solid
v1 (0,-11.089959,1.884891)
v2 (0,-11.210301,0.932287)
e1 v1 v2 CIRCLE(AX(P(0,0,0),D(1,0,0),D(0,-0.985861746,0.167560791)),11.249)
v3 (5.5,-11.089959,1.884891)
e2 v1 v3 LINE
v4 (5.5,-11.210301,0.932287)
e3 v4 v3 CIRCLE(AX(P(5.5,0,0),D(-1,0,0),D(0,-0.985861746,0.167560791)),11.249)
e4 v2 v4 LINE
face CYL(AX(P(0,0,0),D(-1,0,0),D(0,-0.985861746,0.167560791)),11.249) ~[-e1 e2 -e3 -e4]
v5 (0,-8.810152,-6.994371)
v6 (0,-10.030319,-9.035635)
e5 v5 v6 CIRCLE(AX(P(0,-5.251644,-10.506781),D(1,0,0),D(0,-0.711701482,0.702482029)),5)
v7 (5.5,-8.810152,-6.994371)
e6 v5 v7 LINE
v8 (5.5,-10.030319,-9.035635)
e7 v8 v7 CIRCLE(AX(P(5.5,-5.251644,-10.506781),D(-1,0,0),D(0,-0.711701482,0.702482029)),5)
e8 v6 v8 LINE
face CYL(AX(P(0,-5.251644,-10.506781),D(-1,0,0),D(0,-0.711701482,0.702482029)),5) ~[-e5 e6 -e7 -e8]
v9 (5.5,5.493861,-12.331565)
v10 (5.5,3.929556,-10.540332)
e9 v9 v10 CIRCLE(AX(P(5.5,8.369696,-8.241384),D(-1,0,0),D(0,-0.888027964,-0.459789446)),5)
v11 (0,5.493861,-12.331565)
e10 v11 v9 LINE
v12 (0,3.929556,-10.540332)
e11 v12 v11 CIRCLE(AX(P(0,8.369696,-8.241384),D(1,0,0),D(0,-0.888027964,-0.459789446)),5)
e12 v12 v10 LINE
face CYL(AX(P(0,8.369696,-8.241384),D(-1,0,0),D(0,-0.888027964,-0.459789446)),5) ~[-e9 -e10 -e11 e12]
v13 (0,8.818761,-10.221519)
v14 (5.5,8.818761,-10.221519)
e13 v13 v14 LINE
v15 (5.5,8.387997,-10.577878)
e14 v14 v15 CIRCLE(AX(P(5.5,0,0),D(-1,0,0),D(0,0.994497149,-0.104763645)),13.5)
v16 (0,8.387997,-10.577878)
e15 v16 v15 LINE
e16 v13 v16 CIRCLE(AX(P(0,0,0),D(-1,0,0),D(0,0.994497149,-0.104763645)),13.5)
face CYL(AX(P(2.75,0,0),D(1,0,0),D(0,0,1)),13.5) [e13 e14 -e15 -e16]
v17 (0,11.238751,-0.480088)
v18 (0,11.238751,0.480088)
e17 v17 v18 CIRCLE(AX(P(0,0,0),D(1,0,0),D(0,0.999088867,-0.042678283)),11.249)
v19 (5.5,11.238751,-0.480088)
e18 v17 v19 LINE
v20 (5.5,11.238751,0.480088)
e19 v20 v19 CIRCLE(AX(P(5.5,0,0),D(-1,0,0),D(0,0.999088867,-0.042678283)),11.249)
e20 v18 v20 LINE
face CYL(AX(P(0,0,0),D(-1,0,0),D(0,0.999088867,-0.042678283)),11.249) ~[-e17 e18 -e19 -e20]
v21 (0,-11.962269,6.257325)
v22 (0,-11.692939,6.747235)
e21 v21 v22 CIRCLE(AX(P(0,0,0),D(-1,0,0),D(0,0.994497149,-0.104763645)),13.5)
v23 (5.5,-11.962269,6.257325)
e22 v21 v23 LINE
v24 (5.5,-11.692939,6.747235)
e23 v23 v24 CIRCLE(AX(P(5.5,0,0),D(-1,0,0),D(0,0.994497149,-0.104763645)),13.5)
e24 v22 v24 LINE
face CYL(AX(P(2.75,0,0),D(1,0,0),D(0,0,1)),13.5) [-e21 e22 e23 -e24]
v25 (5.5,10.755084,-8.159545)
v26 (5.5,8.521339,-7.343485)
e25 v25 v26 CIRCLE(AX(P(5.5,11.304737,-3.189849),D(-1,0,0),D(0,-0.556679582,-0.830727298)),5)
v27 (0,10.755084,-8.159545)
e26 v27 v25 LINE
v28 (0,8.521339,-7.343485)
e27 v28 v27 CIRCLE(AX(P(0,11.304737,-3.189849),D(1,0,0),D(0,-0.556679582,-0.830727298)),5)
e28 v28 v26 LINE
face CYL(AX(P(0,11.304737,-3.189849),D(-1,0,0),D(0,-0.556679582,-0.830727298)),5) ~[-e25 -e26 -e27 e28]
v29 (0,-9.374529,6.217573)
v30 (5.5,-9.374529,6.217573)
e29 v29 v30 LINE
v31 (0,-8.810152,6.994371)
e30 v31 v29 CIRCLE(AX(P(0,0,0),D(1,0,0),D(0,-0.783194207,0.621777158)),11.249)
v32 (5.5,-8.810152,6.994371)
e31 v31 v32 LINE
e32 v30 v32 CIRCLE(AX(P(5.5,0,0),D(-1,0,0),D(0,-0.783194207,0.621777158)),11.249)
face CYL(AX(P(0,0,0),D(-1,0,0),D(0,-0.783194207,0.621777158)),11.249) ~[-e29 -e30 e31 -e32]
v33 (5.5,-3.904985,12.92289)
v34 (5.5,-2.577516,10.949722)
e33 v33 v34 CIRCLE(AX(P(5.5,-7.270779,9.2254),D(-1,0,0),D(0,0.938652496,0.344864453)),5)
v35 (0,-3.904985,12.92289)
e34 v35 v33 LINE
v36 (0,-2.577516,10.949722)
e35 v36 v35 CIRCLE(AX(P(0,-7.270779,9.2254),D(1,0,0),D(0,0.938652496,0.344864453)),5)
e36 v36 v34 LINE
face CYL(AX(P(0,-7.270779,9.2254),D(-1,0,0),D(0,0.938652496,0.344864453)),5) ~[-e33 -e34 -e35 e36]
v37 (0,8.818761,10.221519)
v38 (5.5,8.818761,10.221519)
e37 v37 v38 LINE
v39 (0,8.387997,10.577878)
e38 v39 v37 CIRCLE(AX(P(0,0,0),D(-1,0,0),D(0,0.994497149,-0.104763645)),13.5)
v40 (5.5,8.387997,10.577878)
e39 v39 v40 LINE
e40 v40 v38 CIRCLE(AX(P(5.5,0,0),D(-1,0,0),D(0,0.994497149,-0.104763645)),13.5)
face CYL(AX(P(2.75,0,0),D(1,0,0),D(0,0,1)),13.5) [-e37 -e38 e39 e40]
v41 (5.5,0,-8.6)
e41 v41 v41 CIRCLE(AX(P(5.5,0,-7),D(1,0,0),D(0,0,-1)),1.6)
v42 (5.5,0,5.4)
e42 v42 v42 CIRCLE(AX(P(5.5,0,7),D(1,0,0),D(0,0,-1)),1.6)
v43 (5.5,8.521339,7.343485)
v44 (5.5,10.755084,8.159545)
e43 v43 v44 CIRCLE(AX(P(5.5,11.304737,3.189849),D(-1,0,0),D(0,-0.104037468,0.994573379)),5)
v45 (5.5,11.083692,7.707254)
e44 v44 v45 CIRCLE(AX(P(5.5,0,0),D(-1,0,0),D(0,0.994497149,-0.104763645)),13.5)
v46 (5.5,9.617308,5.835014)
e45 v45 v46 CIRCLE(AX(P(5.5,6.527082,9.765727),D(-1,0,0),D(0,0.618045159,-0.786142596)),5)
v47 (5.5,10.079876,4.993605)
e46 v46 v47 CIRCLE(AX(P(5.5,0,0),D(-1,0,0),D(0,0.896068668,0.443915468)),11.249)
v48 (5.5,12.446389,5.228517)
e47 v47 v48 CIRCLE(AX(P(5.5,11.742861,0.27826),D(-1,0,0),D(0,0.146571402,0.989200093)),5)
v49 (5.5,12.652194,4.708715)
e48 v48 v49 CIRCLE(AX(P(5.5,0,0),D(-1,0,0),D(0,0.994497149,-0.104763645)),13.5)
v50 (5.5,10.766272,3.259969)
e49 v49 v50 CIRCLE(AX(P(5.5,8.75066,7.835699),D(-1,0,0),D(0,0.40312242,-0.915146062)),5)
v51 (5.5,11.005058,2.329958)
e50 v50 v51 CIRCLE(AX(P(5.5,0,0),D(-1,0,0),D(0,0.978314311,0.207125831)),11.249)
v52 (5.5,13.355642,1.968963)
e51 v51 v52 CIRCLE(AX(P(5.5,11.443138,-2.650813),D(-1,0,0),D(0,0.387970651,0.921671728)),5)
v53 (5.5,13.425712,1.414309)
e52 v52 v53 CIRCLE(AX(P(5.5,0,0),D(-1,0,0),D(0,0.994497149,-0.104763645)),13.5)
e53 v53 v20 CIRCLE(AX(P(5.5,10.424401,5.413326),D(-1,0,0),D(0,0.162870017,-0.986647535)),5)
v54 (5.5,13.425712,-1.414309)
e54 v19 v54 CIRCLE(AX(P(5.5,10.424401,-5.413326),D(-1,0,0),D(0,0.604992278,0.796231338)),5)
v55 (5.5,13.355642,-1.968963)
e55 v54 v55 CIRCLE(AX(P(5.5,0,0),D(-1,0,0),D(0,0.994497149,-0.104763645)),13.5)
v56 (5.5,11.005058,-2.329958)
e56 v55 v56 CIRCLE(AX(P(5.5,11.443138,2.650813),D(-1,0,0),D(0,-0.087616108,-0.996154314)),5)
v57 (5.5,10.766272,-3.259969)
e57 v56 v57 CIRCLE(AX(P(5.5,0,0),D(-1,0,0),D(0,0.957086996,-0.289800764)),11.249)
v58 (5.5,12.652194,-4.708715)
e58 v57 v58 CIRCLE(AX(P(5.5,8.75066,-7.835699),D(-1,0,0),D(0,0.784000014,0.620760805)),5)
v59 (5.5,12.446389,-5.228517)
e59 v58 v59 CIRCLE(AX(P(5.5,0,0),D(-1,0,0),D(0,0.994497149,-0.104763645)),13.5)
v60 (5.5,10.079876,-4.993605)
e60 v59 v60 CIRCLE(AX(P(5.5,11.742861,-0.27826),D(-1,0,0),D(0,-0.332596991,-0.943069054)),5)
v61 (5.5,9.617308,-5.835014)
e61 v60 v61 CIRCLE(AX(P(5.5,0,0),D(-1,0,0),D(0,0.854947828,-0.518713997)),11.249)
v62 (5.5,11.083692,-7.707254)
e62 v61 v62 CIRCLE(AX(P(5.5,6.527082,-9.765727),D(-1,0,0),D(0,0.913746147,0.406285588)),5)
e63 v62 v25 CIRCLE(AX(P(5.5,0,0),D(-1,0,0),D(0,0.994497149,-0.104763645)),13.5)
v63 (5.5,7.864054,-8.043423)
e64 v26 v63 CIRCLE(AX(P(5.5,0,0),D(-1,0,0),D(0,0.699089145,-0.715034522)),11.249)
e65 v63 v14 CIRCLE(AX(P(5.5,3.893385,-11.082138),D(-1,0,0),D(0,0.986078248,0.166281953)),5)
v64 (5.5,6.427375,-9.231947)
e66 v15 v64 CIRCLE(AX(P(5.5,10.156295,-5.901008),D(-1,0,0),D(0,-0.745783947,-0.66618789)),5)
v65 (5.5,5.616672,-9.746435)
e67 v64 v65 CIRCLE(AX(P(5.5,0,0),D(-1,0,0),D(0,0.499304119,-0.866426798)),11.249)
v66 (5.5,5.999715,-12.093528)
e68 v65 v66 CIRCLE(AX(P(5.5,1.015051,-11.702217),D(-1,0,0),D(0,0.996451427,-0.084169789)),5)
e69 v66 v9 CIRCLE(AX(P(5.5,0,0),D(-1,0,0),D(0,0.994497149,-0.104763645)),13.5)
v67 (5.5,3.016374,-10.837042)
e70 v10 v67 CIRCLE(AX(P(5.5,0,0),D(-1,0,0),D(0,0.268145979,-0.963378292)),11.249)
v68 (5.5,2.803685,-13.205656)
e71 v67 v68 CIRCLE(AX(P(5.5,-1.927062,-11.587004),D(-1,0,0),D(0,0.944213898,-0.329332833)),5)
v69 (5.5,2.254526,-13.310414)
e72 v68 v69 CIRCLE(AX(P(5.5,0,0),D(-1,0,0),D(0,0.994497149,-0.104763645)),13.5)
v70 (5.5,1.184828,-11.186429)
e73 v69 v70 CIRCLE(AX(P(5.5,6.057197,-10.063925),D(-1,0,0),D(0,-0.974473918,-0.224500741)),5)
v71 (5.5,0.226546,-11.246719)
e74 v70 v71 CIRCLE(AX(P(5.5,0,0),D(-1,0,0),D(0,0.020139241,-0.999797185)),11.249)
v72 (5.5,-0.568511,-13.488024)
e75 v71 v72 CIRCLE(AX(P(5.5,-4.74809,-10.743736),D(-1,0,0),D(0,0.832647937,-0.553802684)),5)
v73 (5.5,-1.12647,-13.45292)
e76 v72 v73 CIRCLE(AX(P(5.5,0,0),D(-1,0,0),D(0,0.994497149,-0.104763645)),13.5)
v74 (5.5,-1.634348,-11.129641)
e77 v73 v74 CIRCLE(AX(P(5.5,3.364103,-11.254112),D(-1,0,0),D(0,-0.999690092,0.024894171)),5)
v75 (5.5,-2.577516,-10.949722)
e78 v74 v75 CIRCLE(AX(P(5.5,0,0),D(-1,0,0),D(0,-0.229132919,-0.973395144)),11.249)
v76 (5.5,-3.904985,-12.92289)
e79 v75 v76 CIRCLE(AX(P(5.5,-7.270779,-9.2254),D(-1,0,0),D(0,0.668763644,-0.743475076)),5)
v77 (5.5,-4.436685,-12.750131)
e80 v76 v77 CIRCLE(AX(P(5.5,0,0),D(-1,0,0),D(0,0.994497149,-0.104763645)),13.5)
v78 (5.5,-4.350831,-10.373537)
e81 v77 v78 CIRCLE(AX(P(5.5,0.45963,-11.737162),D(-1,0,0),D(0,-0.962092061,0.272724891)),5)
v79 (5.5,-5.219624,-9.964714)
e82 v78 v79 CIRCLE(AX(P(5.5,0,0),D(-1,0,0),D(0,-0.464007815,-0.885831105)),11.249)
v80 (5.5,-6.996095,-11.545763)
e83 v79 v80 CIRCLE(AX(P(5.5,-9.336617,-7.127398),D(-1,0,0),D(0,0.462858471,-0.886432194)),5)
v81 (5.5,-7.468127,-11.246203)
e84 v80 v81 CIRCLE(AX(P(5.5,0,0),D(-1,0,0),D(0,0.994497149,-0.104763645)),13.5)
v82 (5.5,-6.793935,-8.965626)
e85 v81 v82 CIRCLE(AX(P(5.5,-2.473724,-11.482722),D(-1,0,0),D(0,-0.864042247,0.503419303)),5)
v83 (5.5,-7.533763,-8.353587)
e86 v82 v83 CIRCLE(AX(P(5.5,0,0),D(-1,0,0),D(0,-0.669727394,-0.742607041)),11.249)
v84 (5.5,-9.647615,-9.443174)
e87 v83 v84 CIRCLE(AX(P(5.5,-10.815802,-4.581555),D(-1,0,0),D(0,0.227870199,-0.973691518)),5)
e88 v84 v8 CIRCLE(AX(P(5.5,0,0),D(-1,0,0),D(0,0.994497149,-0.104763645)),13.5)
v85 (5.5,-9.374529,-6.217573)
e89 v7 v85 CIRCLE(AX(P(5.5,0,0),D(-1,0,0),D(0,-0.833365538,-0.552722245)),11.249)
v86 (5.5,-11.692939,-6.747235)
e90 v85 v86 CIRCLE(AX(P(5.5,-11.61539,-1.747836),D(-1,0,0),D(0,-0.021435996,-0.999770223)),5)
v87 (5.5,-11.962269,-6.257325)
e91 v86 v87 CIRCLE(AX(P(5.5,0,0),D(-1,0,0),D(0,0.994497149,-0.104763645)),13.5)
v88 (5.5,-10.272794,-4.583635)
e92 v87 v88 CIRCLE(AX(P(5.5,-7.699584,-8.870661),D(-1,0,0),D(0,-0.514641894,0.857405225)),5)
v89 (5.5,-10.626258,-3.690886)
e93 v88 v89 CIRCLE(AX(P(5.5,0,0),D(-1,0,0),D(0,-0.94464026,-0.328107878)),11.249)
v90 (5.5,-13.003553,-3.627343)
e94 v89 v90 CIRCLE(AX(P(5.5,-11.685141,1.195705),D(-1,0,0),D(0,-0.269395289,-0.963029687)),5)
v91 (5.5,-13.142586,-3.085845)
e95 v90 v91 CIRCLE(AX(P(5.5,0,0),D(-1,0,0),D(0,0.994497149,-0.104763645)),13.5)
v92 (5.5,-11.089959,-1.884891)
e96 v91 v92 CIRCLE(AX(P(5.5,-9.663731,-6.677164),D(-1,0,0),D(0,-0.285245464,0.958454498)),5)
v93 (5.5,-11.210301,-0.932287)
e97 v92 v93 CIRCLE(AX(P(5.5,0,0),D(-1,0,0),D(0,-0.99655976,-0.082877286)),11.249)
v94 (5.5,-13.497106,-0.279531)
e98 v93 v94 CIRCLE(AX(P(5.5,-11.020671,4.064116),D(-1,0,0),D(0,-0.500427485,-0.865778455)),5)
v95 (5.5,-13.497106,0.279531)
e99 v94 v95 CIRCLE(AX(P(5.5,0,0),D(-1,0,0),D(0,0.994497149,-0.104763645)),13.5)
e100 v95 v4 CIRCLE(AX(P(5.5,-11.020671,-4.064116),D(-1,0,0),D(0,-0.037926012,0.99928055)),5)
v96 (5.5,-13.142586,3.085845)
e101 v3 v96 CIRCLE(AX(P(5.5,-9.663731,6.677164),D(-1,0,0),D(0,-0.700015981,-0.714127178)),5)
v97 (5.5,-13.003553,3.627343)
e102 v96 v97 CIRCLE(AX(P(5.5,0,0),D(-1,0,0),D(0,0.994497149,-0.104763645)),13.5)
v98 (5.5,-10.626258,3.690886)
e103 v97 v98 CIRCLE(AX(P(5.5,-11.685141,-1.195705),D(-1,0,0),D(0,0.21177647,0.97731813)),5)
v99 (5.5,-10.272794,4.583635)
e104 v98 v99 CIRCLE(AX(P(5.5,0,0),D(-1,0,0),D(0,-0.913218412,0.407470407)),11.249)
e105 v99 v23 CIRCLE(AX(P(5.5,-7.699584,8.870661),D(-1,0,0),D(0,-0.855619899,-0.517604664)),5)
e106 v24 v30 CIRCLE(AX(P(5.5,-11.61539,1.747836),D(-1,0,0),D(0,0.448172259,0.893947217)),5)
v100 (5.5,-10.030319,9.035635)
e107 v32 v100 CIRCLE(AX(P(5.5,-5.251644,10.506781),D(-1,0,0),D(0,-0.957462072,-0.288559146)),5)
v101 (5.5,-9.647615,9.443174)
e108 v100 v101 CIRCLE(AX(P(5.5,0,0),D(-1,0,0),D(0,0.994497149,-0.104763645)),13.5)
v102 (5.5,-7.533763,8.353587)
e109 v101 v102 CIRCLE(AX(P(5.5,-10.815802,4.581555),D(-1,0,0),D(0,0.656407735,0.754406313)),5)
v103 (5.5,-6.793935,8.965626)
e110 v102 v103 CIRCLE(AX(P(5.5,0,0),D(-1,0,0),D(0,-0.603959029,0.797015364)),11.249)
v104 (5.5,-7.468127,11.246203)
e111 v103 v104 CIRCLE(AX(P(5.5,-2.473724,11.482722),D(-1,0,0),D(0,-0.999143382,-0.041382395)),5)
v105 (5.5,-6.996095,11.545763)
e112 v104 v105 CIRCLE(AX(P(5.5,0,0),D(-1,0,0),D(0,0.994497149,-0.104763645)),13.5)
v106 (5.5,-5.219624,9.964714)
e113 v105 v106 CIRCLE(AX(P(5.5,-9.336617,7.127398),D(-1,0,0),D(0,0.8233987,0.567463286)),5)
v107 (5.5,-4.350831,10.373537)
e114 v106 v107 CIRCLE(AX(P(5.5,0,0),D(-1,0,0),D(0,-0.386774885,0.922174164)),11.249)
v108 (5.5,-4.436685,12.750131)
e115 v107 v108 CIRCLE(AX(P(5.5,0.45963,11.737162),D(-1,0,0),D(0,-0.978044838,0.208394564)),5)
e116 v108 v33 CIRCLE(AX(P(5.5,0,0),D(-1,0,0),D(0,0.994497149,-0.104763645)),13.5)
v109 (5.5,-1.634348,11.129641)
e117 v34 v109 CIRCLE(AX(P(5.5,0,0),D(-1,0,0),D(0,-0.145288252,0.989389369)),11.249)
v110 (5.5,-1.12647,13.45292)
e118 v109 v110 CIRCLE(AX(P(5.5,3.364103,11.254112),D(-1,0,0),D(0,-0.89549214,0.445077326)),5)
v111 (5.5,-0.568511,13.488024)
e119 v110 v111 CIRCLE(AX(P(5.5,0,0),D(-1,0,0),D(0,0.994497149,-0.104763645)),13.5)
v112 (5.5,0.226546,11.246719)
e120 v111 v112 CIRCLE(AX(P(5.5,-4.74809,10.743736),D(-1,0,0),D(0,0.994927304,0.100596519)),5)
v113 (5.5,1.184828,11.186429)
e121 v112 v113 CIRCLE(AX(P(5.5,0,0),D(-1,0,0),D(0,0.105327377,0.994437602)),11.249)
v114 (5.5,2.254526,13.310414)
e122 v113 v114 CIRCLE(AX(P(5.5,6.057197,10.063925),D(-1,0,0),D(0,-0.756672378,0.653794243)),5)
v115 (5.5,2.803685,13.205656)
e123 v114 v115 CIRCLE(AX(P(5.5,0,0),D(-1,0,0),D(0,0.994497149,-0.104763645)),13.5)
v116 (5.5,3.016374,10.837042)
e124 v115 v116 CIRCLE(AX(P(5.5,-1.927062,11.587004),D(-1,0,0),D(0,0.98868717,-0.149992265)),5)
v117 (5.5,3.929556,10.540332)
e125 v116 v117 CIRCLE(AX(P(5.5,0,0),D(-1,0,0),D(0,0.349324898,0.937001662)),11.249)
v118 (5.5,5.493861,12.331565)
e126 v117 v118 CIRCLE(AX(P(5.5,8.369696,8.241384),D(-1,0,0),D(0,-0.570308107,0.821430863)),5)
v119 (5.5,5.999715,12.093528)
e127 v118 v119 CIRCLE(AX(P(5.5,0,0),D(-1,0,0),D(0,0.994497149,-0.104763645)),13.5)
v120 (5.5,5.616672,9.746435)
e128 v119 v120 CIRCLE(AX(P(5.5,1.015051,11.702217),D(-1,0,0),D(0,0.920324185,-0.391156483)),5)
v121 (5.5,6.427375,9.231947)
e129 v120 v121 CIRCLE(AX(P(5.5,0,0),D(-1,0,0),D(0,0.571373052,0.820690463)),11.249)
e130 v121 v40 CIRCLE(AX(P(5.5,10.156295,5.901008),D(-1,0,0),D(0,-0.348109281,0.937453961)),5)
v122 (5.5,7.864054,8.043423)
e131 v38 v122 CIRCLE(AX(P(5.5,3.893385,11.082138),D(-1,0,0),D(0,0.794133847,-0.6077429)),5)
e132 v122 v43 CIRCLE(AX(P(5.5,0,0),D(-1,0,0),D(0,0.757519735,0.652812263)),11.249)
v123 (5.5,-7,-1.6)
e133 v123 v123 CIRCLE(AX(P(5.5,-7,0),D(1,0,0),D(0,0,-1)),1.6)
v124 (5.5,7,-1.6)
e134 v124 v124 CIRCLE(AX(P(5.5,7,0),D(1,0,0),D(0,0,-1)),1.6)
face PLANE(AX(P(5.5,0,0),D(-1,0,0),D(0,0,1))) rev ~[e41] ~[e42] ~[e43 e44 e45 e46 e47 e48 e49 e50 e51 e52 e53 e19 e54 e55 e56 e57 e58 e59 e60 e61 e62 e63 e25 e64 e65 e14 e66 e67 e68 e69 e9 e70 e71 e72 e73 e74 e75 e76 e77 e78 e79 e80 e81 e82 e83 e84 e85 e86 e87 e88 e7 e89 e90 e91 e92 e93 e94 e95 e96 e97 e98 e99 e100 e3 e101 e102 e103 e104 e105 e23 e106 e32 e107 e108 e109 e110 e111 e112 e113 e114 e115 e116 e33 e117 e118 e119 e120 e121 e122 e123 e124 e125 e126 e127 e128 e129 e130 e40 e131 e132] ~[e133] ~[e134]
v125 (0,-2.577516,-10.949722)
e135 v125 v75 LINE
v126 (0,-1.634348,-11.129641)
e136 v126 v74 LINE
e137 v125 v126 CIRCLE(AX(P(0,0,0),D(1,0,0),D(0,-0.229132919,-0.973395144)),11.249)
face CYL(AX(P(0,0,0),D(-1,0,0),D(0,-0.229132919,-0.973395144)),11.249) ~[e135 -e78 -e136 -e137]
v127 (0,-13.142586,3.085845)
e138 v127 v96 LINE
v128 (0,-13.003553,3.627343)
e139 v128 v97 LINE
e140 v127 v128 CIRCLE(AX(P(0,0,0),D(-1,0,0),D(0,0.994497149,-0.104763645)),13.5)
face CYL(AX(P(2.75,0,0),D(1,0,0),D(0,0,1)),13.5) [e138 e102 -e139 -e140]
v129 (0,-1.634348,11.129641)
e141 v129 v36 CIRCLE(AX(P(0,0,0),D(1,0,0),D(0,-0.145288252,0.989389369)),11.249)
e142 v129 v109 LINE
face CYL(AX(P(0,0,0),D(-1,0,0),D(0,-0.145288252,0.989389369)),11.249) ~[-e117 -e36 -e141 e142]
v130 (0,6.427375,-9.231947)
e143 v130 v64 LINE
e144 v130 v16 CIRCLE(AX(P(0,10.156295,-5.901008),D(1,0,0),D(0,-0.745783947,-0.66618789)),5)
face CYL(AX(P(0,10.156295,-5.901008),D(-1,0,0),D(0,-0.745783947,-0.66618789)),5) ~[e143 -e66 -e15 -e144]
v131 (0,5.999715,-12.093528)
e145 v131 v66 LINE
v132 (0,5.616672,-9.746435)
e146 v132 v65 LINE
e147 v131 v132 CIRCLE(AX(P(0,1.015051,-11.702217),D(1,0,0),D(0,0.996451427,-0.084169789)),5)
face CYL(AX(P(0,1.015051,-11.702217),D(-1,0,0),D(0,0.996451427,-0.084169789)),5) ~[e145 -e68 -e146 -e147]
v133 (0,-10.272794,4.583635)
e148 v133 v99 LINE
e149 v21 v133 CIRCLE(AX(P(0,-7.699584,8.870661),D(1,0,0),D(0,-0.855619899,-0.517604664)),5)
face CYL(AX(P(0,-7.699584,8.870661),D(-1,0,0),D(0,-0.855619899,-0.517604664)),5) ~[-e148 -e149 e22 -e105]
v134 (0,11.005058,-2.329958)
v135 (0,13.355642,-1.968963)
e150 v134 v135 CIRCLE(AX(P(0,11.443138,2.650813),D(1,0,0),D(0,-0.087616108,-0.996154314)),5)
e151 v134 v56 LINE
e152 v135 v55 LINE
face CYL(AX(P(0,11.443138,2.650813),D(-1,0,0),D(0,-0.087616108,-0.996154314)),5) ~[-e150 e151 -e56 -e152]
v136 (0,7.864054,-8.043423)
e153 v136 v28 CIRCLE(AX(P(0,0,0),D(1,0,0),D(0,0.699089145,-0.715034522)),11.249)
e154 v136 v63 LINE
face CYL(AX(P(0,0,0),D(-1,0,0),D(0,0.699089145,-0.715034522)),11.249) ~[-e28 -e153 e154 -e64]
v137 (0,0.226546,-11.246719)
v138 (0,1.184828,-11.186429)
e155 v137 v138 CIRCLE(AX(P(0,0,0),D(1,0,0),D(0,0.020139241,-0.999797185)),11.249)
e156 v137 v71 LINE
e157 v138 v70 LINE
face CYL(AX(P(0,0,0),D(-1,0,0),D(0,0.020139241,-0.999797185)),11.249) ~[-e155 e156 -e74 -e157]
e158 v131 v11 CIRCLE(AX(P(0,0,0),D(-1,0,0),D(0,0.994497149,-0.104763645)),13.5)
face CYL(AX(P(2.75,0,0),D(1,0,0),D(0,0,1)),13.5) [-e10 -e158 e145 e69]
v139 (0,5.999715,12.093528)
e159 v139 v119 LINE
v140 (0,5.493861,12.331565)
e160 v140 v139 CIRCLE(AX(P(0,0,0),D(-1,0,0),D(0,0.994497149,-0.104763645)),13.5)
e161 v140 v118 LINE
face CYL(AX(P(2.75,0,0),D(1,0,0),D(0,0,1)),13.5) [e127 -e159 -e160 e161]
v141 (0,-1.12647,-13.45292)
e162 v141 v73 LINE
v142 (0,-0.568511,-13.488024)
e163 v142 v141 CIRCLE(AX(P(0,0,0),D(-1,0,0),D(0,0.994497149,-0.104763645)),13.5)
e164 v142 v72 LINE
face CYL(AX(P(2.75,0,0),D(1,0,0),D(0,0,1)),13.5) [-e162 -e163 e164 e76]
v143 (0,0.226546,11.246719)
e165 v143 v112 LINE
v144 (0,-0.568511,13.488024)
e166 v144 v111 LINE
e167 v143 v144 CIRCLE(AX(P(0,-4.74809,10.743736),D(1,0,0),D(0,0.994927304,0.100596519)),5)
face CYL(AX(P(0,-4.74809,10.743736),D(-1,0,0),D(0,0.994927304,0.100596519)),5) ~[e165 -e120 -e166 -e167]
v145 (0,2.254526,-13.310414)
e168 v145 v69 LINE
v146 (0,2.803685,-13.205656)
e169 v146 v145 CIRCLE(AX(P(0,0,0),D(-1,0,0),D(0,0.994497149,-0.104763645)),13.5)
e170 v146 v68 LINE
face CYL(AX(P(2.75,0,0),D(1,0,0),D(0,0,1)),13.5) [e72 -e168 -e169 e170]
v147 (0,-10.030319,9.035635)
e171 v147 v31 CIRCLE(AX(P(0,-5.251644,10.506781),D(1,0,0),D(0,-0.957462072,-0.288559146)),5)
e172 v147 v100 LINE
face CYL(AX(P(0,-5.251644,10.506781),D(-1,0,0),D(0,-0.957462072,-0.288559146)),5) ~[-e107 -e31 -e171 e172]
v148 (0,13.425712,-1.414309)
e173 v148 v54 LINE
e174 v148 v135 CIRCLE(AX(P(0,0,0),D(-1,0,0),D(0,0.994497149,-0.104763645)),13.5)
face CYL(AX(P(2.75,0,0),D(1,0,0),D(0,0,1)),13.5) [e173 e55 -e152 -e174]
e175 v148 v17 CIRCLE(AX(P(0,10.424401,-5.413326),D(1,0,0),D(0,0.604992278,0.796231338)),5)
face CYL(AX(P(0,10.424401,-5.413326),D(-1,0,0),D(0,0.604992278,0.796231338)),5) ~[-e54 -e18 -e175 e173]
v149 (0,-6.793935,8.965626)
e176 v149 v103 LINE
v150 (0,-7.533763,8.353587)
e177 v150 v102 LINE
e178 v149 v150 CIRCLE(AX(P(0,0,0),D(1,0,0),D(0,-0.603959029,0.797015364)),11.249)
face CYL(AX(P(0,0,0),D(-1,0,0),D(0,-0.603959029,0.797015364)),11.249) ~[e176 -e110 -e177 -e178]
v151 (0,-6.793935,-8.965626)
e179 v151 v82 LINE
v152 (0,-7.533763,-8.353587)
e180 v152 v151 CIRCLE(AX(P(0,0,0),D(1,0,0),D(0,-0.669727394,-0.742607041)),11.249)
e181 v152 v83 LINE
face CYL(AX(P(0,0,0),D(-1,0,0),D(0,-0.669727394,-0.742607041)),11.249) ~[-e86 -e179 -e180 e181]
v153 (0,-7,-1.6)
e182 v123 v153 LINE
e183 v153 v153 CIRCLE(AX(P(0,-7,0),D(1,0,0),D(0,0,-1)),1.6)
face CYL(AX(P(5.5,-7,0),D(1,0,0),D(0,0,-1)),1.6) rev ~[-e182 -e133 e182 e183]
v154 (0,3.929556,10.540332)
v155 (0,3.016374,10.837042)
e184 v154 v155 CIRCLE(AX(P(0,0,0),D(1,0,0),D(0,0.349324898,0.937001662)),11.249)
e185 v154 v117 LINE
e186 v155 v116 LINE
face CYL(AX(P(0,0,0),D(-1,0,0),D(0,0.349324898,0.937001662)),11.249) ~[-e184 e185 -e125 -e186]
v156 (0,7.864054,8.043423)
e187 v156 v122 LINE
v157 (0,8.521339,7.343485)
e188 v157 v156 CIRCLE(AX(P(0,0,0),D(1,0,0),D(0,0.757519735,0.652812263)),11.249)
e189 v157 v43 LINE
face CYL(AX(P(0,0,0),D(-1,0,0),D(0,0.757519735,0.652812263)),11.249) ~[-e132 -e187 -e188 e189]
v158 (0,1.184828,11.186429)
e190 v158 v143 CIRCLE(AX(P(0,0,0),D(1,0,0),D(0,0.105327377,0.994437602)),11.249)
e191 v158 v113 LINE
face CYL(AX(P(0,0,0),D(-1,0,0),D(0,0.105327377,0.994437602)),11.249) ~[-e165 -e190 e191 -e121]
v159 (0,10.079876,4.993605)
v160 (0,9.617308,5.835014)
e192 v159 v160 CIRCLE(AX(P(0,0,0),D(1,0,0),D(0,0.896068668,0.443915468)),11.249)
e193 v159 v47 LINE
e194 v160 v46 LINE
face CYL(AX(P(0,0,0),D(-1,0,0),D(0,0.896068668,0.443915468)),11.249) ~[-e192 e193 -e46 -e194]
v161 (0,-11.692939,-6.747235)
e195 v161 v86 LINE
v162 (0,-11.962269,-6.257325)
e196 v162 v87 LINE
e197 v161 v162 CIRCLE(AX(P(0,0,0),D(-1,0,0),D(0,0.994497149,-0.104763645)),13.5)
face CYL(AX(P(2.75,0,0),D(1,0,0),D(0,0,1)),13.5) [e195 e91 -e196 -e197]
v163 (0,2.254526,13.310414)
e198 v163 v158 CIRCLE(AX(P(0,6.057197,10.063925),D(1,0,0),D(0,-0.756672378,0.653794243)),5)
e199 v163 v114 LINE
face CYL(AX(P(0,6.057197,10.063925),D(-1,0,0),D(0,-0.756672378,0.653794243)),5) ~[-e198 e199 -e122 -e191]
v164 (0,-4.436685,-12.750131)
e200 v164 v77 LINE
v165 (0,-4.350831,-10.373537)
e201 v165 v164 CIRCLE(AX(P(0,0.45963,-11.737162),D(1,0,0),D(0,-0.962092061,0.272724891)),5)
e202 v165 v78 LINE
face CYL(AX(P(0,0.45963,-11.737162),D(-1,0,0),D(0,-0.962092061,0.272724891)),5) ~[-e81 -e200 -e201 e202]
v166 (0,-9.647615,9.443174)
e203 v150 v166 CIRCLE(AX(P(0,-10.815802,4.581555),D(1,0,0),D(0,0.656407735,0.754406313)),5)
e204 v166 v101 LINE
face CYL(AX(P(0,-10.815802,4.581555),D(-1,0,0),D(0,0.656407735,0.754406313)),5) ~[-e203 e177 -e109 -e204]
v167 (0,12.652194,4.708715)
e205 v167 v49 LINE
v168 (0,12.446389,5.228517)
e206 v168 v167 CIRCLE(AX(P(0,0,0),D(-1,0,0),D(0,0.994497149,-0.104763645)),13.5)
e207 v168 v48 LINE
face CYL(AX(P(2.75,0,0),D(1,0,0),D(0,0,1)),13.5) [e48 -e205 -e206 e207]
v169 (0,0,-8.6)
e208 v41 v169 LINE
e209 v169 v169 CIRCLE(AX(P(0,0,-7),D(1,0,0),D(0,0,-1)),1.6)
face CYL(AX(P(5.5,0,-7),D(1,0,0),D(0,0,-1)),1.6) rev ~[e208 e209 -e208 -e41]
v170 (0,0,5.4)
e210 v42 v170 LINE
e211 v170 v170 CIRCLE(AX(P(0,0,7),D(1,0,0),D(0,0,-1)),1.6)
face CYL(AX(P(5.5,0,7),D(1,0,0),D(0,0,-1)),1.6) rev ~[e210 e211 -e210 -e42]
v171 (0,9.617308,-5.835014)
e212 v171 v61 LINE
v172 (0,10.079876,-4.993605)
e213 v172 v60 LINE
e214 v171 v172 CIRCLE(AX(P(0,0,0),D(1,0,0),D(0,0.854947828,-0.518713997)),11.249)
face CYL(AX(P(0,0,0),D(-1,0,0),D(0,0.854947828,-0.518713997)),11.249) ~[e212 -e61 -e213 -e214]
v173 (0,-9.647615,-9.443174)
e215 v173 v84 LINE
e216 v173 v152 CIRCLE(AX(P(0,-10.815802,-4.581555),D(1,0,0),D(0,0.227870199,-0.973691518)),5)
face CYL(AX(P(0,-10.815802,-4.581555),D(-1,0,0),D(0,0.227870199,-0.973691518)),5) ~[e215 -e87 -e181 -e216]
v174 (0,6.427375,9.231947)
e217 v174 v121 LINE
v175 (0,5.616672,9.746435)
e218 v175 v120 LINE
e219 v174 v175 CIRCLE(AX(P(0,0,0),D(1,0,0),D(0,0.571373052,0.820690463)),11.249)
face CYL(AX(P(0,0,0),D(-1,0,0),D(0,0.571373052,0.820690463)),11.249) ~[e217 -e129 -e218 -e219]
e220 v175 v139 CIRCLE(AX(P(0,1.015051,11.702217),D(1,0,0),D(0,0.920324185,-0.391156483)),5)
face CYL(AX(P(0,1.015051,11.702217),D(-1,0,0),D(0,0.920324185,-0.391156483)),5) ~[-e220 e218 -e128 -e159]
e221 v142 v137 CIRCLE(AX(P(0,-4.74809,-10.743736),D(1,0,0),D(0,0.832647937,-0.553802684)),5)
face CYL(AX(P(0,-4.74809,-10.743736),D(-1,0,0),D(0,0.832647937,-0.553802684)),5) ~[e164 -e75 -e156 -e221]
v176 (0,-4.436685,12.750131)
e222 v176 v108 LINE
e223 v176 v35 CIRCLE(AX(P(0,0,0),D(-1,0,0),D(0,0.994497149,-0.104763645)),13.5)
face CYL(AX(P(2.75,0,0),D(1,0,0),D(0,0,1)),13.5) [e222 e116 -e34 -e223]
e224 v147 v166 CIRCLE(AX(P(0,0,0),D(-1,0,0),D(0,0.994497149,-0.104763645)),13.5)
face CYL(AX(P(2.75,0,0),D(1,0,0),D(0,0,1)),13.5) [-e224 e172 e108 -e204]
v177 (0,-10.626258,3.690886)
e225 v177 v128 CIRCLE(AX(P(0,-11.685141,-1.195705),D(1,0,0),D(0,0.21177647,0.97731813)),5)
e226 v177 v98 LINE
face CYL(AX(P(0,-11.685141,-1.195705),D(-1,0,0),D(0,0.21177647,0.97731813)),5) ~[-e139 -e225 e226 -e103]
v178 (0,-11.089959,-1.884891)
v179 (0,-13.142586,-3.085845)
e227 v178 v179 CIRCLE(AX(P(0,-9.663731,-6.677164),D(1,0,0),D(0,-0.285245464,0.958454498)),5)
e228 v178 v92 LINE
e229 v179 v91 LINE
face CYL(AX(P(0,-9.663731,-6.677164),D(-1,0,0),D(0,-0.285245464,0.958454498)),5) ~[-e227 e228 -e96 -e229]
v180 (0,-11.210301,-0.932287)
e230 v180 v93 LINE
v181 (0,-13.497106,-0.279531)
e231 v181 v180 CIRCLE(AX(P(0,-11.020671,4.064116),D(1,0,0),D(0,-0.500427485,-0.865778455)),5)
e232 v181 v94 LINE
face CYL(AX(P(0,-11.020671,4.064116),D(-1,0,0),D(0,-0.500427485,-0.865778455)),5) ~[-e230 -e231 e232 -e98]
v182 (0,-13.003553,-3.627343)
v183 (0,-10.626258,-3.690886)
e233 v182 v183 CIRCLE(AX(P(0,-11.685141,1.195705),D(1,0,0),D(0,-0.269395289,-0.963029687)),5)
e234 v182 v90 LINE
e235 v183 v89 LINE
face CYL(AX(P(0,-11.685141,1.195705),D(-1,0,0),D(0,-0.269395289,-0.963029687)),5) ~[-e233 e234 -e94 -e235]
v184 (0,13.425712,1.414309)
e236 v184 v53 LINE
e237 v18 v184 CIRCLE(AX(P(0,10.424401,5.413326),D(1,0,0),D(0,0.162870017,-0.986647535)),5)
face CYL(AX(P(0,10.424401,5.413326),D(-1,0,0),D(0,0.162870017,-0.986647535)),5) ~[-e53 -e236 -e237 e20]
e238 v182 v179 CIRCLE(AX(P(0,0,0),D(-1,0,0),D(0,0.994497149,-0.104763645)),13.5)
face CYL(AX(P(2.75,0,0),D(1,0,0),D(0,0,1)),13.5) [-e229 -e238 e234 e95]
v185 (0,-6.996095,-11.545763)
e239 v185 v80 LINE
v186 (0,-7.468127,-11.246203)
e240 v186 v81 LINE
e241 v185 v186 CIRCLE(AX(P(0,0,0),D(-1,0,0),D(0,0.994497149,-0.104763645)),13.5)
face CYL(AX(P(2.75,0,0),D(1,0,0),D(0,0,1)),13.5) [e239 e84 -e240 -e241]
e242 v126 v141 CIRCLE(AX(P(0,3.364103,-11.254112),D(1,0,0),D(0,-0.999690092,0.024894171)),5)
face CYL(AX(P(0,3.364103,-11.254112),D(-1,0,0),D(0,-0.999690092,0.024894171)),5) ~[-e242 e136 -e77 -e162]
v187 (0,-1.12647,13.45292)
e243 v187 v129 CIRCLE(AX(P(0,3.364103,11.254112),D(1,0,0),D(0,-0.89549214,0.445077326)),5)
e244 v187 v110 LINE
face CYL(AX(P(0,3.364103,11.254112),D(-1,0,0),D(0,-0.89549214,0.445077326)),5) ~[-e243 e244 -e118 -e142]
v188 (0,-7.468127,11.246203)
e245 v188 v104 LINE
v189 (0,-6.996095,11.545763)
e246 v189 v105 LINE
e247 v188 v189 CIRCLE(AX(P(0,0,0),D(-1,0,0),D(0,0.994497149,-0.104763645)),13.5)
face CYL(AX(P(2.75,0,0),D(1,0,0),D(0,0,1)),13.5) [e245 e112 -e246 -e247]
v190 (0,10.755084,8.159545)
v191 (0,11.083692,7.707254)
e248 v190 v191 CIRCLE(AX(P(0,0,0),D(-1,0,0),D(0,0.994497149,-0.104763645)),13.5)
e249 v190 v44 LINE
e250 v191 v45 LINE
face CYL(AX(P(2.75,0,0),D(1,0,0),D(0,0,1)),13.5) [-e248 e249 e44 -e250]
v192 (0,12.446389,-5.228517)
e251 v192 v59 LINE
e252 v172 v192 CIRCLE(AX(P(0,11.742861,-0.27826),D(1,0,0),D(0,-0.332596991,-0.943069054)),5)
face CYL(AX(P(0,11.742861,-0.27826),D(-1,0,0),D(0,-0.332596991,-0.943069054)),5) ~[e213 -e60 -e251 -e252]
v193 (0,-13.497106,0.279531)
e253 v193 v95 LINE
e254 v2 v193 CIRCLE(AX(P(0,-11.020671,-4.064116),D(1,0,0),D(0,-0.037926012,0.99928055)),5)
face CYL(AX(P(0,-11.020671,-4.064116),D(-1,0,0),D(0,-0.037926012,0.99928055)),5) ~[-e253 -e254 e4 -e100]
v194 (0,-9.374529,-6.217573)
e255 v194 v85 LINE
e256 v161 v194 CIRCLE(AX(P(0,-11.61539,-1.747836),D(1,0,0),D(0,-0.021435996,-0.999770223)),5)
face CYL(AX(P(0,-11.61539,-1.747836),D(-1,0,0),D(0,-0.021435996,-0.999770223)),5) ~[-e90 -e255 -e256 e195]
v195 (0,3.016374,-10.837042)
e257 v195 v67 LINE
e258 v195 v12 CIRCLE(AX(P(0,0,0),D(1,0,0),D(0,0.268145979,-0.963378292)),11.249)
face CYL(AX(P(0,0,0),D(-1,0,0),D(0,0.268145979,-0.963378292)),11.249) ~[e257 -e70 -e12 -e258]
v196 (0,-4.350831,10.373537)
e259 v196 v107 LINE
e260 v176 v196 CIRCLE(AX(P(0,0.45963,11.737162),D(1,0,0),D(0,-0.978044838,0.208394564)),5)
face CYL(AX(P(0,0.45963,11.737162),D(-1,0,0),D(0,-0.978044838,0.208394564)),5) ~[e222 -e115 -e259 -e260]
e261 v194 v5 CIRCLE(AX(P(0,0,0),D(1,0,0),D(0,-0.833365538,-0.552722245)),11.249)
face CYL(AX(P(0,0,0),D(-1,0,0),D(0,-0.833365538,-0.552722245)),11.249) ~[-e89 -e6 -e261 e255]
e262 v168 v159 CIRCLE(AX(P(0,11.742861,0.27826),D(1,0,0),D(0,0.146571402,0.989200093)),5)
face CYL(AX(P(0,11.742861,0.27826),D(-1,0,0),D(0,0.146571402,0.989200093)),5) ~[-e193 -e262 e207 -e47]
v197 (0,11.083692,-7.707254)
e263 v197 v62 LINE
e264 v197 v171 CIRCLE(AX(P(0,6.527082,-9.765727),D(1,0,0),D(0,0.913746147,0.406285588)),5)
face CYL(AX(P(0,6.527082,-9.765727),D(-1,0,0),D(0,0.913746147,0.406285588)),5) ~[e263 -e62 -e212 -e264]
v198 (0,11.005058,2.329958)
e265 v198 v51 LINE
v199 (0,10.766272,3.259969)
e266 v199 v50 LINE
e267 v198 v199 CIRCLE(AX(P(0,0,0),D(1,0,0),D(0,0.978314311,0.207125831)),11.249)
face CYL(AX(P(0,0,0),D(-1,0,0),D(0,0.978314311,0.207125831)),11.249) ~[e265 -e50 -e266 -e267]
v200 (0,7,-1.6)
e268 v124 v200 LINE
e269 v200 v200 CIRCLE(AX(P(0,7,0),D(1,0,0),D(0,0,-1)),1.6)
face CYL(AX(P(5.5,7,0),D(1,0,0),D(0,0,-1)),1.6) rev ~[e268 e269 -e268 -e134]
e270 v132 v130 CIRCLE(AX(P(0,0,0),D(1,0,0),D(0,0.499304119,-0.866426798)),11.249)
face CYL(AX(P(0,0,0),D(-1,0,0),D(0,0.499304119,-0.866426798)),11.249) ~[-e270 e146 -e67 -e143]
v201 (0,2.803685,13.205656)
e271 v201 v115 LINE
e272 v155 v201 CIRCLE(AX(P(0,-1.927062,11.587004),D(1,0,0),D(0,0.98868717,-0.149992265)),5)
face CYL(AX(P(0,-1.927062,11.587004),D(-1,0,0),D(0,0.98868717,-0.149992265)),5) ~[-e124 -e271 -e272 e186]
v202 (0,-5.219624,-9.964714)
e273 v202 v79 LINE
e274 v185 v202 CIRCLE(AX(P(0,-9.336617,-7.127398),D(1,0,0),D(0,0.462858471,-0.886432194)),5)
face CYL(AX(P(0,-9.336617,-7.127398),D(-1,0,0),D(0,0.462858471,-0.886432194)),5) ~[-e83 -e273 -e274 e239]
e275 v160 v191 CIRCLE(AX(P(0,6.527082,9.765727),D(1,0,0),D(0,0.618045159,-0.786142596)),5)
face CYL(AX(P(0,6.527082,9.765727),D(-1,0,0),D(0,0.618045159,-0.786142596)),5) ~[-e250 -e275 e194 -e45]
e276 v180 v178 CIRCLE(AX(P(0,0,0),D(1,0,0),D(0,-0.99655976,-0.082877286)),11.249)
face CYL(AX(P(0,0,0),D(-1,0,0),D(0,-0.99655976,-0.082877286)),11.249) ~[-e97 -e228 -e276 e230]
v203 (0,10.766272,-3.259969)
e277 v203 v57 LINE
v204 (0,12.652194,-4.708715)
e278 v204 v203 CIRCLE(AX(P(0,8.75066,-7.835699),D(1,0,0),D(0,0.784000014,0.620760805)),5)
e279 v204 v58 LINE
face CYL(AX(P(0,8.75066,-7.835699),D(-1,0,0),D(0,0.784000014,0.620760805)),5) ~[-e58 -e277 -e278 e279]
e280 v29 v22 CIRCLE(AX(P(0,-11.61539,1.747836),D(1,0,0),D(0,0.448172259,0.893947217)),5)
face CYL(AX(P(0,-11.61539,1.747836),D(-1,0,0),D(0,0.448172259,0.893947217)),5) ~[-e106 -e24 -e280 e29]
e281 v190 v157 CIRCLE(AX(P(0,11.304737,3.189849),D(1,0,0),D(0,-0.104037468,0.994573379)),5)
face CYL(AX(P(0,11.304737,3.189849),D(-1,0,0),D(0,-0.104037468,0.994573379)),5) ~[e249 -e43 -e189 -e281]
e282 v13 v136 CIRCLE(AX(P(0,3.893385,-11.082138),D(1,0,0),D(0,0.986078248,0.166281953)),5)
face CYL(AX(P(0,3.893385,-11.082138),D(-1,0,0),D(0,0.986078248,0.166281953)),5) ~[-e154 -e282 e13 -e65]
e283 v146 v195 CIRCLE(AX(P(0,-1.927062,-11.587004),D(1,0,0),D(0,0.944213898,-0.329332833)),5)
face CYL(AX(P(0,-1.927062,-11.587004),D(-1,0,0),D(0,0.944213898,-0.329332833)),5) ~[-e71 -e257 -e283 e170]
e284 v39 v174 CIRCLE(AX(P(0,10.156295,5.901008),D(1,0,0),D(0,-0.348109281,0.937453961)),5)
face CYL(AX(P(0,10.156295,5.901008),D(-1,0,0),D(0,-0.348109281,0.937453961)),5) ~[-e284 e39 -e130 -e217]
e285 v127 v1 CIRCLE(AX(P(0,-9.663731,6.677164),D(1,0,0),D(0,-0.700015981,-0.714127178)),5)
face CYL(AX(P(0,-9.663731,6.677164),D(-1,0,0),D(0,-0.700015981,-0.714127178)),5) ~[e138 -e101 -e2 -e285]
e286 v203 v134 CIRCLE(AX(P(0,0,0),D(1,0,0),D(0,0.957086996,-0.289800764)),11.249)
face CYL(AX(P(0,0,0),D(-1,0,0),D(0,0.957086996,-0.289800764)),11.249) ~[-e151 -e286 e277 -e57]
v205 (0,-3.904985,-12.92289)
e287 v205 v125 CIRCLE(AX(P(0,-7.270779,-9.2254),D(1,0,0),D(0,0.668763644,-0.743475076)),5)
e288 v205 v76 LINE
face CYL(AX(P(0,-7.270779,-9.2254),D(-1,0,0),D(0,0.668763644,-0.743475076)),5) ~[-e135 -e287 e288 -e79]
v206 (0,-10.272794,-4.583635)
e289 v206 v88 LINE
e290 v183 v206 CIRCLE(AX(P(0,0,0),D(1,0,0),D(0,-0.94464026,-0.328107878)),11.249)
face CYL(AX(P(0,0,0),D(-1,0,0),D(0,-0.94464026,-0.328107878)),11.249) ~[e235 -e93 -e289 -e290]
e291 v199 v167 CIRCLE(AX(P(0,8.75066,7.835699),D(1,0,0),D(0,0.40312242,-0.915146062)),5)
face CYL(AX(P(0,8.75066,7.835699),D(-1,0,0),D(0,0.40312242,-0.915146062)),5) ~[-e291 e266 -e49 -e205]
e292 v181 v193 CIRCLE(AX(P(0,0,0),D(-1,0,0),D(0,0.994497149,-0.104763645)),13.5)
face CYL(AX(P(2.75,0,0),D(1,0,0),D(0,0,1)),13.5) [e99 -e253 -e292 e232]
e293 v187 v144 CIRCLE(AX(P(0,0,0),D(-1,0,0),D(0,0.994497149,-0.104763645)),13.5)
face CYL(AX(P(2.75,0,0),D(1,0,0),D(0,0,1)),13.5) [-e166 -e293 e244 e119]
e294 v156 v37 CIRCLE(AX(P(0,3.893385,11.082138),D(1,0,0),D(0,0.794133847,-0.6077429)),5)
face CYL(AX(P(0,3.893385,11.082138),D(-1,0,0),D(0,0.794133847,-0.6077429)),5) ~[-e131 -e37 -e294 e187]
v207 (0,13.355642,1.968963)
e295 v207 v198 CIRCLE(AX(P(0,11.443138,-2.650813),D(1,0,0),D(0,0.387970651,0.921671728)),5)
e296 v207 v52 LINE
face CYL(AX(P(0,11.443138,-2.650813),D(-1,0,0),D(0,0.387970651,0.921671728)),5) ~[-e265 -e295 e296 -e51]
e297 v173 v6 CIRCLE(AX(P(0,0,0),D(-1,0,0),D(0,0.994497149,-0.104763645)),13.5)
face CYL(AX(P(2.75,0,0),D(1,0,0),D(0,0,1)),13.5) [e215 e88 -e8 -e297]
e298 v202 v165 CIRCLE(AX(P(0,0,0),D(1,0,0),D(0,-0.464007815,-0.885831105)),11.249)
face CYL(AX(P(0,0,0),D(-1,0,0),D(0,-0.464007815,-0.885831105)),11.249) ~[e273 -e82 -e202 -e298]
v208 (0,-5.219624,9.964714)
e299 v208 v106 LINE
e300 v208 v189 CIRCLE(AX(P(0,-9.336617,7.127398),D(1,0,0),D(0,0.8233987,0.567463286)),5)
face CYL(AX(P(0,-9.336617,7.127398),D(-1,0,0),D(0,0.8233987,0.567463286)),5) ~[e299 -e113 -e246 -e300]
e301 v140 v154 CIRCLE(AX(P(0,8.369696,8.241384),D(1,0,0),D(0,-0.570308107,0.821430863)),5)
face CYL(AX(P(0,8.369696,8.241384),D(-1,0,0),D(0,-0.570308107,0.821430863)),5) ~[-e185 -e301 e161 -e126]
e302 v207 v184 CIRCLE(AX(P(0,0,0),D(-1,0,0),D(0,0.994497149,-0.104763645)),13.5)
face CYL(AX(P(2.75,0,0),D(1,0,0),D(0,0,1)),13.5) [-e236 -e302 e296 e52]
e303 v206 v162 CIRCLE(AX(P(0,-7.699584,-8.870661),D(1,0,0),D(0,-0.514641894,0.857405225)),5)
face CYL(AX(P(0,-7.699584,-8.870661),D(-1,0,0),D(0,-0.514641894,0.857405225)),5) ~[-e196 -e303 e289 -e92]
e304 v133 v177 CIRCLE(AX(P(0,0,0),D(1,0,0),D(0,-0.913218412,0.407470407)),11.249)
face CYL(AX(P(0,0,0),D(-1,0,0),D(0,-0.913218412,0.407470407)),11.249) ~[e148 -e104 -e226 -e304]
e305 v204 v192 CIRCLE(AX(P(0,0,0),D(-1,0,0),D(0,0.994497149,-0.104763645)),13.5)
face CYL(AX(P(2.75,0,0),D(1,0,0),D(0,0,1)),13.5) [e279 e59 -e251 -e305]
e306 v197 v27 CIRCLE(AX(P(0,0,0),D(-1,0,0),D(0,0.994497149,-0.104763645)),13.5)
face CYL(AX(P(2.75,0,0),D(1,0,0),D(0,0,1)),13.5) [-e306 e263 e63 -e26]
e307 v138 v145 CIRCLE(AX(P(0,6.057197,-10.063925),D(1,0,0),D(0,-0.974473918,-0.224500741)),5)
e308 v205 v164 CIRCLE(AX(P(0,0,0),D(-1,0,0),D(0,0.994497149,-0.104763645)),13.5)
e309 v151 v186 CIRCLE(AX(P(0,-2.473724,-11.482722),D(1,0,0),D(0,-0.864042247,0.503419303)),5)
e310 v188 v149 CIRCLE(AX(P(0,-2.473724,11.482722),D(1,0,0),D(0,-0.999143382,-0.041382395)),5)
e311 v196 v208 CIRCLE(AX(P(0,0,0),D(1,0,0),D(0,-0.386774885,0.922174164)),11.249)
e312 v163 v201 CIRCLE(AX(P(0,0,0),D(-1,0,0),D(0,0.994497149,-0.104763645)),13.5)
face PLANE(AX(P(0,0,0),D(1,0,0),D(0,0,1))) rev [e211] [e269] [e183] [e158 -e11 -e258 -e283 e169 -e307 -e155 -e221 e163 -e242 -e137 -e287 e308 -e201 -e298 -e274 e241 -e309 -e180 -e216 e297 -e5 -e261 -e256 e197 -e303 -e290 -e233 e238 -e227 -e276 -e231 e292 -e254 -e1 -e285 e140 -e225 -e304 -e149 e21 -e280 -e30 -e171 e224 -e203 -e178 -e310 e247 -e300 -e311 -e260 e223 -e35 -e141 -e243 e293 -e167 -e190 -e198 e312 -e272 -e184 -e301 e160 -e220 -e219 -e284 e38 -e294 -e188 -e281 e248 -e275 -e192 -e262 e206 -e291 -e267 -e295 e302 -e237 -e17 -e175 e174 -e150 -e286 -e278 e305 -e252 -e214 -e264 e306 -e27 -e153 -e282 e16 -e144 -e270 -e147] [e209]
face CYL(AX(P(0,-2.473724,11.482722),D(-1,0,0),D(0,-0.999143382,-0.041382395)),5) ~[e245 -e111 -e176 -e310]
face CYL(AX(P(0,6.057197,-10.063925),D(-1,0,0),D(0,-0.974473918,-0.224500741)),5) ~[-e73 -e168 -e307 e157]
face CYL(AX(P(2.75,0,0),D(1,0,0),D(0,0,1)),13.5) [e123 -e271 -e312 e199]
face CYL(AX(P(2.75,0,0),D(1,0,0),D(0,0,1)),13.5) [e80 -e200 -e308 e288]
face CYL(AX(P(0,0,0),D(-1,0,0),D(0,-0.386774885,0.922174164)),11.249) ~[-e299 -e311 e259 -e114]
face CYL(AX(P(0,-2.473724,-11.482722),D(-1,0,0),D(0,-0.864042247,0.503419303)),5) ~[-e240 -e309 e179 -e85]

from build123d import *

# Parameters (mm, degrees)
BASPROSKE_W         = 5.5
BASPROSKE_H         = 13.5
TOOTHCUT_DEPTH      = 20.868316486
TEETHCUTS_COUNT     = 25
TEETHCUTS_ANGLE     = 345.6
BORSKE_R            = 7
BORE_DEPTH          = 50.0000508
EXTRUDE_START       = -5.5
SKETCH_1_R          = 7
EXTRUDE_1_DEPTH     = 5.5
SKETCH_2_R          = 1.6
CUT_EXTRUDE_1_DEPTH = 20.860181149


with BuildPart() as part:
    # BasProSke → Base-Revolve (revolve)
    with BuildSketch(Plane(origin=(0, 0, 0), x_dir=(1, 0, 0), z_dir=(0, 1, 0)), mode=Mode.PRIVATE) as base_revolve_sk:
        with Locations((2.75, 6.75)):
            Rectangle(BASPROSKE_W, BASPROSKE_H)
    revolve(base_revolve_sk.sketch.rotate(Axis((-10, 0, 0), (1, 0, 0)), 180), axis=Axis((-10, 0, 0), (1, 0, 0)))

    # TooCutSke → ToothCut (cut, through all)
    with BuildSketch(Plane(origin=(0, 0, 0), x_dir=(0, 0, -1), z_dir=(1, 0, 0))):
        with BuildLine():
            ThreePointArc((0.480087995, 11.238750665), (0, 11.249), (-0.480087995, 11.238750665))
            ThreePointArc((-0.480087995, 11.238750665), (-0.821124963, 12.40220054), (-1.432168974, 13.449361962))
            ThreePointArc((-1.432168974, 13.449361962), (0, 13.5254), (1.432168974, 13.449361962))
            ThreePointArc((1.432168974, 13.449361962), (0.821124963, 12.40220054), (0.480087995, 11.238750665))
        make_face()
    toothcut = extrude(amount=TOOTHCUT_DEPTH, mode=Mode.SUBTRACT)

    # TeethCuts: ToothCut ×25 about axis
    teethcuts_axis = Axis((-10, 0, 0), (1, 0, 0))
    for i in range(1, TEETHCUTS_COUNT):
        add(toothcut.rotate(teethcuts_axis, i * TEETHCUTS_ANGLE / (TEETHCUTS_COUNT - 1)), mode=Mode.SUBTRACT)

    # BorSke → Bore (cut, symmetric)
    with BuildSketch(Plane(origin=(0, 0, 0), x_dir=(0, 0, -1), z_dir=(1, 0, 0))):
        with Locations(Location((0, 0, 0), (0, 0, 180))):
            Circle(BORSKE_R)
    extrude(amount=BORE_DEPTH, both=True, mode=Mode.SUBTRACT)

    # ｽｹｯﾁ1 → ﾎﾞｽ - 押し出し1 (add)
    with BuildSketch(Plane.ZY.offset(EXTRUDE_START)):
        Circle(SKETCH_1_R)
    extrude(amount=EXTRUDE_1_DEPTH)

    # ｽｹｯﾁ2 → ｶｯﾄ - 押し出し1 (cut, through all)
    with BuildSketch(Plane(origin=(5.5, 0, 0), x_dir=(0, 0, -1), z_dir=(1, 0, 0))):
        with Locations((0, 7)):
            Circle(SKETCH_2_R)
        with Locations((7, 0)):
            Circle(SKETCH_2_R)
        with Locations((0, -7)):
            Circle(SKETCH_2_R)
        with Locations((-7, 0)):
            Circle(SKETCH_2_R)
    extrude(amount=-CUT_EXTRUDE_1_DEPTH, mode=Mode.SUBTRACT)


solid = part.part
